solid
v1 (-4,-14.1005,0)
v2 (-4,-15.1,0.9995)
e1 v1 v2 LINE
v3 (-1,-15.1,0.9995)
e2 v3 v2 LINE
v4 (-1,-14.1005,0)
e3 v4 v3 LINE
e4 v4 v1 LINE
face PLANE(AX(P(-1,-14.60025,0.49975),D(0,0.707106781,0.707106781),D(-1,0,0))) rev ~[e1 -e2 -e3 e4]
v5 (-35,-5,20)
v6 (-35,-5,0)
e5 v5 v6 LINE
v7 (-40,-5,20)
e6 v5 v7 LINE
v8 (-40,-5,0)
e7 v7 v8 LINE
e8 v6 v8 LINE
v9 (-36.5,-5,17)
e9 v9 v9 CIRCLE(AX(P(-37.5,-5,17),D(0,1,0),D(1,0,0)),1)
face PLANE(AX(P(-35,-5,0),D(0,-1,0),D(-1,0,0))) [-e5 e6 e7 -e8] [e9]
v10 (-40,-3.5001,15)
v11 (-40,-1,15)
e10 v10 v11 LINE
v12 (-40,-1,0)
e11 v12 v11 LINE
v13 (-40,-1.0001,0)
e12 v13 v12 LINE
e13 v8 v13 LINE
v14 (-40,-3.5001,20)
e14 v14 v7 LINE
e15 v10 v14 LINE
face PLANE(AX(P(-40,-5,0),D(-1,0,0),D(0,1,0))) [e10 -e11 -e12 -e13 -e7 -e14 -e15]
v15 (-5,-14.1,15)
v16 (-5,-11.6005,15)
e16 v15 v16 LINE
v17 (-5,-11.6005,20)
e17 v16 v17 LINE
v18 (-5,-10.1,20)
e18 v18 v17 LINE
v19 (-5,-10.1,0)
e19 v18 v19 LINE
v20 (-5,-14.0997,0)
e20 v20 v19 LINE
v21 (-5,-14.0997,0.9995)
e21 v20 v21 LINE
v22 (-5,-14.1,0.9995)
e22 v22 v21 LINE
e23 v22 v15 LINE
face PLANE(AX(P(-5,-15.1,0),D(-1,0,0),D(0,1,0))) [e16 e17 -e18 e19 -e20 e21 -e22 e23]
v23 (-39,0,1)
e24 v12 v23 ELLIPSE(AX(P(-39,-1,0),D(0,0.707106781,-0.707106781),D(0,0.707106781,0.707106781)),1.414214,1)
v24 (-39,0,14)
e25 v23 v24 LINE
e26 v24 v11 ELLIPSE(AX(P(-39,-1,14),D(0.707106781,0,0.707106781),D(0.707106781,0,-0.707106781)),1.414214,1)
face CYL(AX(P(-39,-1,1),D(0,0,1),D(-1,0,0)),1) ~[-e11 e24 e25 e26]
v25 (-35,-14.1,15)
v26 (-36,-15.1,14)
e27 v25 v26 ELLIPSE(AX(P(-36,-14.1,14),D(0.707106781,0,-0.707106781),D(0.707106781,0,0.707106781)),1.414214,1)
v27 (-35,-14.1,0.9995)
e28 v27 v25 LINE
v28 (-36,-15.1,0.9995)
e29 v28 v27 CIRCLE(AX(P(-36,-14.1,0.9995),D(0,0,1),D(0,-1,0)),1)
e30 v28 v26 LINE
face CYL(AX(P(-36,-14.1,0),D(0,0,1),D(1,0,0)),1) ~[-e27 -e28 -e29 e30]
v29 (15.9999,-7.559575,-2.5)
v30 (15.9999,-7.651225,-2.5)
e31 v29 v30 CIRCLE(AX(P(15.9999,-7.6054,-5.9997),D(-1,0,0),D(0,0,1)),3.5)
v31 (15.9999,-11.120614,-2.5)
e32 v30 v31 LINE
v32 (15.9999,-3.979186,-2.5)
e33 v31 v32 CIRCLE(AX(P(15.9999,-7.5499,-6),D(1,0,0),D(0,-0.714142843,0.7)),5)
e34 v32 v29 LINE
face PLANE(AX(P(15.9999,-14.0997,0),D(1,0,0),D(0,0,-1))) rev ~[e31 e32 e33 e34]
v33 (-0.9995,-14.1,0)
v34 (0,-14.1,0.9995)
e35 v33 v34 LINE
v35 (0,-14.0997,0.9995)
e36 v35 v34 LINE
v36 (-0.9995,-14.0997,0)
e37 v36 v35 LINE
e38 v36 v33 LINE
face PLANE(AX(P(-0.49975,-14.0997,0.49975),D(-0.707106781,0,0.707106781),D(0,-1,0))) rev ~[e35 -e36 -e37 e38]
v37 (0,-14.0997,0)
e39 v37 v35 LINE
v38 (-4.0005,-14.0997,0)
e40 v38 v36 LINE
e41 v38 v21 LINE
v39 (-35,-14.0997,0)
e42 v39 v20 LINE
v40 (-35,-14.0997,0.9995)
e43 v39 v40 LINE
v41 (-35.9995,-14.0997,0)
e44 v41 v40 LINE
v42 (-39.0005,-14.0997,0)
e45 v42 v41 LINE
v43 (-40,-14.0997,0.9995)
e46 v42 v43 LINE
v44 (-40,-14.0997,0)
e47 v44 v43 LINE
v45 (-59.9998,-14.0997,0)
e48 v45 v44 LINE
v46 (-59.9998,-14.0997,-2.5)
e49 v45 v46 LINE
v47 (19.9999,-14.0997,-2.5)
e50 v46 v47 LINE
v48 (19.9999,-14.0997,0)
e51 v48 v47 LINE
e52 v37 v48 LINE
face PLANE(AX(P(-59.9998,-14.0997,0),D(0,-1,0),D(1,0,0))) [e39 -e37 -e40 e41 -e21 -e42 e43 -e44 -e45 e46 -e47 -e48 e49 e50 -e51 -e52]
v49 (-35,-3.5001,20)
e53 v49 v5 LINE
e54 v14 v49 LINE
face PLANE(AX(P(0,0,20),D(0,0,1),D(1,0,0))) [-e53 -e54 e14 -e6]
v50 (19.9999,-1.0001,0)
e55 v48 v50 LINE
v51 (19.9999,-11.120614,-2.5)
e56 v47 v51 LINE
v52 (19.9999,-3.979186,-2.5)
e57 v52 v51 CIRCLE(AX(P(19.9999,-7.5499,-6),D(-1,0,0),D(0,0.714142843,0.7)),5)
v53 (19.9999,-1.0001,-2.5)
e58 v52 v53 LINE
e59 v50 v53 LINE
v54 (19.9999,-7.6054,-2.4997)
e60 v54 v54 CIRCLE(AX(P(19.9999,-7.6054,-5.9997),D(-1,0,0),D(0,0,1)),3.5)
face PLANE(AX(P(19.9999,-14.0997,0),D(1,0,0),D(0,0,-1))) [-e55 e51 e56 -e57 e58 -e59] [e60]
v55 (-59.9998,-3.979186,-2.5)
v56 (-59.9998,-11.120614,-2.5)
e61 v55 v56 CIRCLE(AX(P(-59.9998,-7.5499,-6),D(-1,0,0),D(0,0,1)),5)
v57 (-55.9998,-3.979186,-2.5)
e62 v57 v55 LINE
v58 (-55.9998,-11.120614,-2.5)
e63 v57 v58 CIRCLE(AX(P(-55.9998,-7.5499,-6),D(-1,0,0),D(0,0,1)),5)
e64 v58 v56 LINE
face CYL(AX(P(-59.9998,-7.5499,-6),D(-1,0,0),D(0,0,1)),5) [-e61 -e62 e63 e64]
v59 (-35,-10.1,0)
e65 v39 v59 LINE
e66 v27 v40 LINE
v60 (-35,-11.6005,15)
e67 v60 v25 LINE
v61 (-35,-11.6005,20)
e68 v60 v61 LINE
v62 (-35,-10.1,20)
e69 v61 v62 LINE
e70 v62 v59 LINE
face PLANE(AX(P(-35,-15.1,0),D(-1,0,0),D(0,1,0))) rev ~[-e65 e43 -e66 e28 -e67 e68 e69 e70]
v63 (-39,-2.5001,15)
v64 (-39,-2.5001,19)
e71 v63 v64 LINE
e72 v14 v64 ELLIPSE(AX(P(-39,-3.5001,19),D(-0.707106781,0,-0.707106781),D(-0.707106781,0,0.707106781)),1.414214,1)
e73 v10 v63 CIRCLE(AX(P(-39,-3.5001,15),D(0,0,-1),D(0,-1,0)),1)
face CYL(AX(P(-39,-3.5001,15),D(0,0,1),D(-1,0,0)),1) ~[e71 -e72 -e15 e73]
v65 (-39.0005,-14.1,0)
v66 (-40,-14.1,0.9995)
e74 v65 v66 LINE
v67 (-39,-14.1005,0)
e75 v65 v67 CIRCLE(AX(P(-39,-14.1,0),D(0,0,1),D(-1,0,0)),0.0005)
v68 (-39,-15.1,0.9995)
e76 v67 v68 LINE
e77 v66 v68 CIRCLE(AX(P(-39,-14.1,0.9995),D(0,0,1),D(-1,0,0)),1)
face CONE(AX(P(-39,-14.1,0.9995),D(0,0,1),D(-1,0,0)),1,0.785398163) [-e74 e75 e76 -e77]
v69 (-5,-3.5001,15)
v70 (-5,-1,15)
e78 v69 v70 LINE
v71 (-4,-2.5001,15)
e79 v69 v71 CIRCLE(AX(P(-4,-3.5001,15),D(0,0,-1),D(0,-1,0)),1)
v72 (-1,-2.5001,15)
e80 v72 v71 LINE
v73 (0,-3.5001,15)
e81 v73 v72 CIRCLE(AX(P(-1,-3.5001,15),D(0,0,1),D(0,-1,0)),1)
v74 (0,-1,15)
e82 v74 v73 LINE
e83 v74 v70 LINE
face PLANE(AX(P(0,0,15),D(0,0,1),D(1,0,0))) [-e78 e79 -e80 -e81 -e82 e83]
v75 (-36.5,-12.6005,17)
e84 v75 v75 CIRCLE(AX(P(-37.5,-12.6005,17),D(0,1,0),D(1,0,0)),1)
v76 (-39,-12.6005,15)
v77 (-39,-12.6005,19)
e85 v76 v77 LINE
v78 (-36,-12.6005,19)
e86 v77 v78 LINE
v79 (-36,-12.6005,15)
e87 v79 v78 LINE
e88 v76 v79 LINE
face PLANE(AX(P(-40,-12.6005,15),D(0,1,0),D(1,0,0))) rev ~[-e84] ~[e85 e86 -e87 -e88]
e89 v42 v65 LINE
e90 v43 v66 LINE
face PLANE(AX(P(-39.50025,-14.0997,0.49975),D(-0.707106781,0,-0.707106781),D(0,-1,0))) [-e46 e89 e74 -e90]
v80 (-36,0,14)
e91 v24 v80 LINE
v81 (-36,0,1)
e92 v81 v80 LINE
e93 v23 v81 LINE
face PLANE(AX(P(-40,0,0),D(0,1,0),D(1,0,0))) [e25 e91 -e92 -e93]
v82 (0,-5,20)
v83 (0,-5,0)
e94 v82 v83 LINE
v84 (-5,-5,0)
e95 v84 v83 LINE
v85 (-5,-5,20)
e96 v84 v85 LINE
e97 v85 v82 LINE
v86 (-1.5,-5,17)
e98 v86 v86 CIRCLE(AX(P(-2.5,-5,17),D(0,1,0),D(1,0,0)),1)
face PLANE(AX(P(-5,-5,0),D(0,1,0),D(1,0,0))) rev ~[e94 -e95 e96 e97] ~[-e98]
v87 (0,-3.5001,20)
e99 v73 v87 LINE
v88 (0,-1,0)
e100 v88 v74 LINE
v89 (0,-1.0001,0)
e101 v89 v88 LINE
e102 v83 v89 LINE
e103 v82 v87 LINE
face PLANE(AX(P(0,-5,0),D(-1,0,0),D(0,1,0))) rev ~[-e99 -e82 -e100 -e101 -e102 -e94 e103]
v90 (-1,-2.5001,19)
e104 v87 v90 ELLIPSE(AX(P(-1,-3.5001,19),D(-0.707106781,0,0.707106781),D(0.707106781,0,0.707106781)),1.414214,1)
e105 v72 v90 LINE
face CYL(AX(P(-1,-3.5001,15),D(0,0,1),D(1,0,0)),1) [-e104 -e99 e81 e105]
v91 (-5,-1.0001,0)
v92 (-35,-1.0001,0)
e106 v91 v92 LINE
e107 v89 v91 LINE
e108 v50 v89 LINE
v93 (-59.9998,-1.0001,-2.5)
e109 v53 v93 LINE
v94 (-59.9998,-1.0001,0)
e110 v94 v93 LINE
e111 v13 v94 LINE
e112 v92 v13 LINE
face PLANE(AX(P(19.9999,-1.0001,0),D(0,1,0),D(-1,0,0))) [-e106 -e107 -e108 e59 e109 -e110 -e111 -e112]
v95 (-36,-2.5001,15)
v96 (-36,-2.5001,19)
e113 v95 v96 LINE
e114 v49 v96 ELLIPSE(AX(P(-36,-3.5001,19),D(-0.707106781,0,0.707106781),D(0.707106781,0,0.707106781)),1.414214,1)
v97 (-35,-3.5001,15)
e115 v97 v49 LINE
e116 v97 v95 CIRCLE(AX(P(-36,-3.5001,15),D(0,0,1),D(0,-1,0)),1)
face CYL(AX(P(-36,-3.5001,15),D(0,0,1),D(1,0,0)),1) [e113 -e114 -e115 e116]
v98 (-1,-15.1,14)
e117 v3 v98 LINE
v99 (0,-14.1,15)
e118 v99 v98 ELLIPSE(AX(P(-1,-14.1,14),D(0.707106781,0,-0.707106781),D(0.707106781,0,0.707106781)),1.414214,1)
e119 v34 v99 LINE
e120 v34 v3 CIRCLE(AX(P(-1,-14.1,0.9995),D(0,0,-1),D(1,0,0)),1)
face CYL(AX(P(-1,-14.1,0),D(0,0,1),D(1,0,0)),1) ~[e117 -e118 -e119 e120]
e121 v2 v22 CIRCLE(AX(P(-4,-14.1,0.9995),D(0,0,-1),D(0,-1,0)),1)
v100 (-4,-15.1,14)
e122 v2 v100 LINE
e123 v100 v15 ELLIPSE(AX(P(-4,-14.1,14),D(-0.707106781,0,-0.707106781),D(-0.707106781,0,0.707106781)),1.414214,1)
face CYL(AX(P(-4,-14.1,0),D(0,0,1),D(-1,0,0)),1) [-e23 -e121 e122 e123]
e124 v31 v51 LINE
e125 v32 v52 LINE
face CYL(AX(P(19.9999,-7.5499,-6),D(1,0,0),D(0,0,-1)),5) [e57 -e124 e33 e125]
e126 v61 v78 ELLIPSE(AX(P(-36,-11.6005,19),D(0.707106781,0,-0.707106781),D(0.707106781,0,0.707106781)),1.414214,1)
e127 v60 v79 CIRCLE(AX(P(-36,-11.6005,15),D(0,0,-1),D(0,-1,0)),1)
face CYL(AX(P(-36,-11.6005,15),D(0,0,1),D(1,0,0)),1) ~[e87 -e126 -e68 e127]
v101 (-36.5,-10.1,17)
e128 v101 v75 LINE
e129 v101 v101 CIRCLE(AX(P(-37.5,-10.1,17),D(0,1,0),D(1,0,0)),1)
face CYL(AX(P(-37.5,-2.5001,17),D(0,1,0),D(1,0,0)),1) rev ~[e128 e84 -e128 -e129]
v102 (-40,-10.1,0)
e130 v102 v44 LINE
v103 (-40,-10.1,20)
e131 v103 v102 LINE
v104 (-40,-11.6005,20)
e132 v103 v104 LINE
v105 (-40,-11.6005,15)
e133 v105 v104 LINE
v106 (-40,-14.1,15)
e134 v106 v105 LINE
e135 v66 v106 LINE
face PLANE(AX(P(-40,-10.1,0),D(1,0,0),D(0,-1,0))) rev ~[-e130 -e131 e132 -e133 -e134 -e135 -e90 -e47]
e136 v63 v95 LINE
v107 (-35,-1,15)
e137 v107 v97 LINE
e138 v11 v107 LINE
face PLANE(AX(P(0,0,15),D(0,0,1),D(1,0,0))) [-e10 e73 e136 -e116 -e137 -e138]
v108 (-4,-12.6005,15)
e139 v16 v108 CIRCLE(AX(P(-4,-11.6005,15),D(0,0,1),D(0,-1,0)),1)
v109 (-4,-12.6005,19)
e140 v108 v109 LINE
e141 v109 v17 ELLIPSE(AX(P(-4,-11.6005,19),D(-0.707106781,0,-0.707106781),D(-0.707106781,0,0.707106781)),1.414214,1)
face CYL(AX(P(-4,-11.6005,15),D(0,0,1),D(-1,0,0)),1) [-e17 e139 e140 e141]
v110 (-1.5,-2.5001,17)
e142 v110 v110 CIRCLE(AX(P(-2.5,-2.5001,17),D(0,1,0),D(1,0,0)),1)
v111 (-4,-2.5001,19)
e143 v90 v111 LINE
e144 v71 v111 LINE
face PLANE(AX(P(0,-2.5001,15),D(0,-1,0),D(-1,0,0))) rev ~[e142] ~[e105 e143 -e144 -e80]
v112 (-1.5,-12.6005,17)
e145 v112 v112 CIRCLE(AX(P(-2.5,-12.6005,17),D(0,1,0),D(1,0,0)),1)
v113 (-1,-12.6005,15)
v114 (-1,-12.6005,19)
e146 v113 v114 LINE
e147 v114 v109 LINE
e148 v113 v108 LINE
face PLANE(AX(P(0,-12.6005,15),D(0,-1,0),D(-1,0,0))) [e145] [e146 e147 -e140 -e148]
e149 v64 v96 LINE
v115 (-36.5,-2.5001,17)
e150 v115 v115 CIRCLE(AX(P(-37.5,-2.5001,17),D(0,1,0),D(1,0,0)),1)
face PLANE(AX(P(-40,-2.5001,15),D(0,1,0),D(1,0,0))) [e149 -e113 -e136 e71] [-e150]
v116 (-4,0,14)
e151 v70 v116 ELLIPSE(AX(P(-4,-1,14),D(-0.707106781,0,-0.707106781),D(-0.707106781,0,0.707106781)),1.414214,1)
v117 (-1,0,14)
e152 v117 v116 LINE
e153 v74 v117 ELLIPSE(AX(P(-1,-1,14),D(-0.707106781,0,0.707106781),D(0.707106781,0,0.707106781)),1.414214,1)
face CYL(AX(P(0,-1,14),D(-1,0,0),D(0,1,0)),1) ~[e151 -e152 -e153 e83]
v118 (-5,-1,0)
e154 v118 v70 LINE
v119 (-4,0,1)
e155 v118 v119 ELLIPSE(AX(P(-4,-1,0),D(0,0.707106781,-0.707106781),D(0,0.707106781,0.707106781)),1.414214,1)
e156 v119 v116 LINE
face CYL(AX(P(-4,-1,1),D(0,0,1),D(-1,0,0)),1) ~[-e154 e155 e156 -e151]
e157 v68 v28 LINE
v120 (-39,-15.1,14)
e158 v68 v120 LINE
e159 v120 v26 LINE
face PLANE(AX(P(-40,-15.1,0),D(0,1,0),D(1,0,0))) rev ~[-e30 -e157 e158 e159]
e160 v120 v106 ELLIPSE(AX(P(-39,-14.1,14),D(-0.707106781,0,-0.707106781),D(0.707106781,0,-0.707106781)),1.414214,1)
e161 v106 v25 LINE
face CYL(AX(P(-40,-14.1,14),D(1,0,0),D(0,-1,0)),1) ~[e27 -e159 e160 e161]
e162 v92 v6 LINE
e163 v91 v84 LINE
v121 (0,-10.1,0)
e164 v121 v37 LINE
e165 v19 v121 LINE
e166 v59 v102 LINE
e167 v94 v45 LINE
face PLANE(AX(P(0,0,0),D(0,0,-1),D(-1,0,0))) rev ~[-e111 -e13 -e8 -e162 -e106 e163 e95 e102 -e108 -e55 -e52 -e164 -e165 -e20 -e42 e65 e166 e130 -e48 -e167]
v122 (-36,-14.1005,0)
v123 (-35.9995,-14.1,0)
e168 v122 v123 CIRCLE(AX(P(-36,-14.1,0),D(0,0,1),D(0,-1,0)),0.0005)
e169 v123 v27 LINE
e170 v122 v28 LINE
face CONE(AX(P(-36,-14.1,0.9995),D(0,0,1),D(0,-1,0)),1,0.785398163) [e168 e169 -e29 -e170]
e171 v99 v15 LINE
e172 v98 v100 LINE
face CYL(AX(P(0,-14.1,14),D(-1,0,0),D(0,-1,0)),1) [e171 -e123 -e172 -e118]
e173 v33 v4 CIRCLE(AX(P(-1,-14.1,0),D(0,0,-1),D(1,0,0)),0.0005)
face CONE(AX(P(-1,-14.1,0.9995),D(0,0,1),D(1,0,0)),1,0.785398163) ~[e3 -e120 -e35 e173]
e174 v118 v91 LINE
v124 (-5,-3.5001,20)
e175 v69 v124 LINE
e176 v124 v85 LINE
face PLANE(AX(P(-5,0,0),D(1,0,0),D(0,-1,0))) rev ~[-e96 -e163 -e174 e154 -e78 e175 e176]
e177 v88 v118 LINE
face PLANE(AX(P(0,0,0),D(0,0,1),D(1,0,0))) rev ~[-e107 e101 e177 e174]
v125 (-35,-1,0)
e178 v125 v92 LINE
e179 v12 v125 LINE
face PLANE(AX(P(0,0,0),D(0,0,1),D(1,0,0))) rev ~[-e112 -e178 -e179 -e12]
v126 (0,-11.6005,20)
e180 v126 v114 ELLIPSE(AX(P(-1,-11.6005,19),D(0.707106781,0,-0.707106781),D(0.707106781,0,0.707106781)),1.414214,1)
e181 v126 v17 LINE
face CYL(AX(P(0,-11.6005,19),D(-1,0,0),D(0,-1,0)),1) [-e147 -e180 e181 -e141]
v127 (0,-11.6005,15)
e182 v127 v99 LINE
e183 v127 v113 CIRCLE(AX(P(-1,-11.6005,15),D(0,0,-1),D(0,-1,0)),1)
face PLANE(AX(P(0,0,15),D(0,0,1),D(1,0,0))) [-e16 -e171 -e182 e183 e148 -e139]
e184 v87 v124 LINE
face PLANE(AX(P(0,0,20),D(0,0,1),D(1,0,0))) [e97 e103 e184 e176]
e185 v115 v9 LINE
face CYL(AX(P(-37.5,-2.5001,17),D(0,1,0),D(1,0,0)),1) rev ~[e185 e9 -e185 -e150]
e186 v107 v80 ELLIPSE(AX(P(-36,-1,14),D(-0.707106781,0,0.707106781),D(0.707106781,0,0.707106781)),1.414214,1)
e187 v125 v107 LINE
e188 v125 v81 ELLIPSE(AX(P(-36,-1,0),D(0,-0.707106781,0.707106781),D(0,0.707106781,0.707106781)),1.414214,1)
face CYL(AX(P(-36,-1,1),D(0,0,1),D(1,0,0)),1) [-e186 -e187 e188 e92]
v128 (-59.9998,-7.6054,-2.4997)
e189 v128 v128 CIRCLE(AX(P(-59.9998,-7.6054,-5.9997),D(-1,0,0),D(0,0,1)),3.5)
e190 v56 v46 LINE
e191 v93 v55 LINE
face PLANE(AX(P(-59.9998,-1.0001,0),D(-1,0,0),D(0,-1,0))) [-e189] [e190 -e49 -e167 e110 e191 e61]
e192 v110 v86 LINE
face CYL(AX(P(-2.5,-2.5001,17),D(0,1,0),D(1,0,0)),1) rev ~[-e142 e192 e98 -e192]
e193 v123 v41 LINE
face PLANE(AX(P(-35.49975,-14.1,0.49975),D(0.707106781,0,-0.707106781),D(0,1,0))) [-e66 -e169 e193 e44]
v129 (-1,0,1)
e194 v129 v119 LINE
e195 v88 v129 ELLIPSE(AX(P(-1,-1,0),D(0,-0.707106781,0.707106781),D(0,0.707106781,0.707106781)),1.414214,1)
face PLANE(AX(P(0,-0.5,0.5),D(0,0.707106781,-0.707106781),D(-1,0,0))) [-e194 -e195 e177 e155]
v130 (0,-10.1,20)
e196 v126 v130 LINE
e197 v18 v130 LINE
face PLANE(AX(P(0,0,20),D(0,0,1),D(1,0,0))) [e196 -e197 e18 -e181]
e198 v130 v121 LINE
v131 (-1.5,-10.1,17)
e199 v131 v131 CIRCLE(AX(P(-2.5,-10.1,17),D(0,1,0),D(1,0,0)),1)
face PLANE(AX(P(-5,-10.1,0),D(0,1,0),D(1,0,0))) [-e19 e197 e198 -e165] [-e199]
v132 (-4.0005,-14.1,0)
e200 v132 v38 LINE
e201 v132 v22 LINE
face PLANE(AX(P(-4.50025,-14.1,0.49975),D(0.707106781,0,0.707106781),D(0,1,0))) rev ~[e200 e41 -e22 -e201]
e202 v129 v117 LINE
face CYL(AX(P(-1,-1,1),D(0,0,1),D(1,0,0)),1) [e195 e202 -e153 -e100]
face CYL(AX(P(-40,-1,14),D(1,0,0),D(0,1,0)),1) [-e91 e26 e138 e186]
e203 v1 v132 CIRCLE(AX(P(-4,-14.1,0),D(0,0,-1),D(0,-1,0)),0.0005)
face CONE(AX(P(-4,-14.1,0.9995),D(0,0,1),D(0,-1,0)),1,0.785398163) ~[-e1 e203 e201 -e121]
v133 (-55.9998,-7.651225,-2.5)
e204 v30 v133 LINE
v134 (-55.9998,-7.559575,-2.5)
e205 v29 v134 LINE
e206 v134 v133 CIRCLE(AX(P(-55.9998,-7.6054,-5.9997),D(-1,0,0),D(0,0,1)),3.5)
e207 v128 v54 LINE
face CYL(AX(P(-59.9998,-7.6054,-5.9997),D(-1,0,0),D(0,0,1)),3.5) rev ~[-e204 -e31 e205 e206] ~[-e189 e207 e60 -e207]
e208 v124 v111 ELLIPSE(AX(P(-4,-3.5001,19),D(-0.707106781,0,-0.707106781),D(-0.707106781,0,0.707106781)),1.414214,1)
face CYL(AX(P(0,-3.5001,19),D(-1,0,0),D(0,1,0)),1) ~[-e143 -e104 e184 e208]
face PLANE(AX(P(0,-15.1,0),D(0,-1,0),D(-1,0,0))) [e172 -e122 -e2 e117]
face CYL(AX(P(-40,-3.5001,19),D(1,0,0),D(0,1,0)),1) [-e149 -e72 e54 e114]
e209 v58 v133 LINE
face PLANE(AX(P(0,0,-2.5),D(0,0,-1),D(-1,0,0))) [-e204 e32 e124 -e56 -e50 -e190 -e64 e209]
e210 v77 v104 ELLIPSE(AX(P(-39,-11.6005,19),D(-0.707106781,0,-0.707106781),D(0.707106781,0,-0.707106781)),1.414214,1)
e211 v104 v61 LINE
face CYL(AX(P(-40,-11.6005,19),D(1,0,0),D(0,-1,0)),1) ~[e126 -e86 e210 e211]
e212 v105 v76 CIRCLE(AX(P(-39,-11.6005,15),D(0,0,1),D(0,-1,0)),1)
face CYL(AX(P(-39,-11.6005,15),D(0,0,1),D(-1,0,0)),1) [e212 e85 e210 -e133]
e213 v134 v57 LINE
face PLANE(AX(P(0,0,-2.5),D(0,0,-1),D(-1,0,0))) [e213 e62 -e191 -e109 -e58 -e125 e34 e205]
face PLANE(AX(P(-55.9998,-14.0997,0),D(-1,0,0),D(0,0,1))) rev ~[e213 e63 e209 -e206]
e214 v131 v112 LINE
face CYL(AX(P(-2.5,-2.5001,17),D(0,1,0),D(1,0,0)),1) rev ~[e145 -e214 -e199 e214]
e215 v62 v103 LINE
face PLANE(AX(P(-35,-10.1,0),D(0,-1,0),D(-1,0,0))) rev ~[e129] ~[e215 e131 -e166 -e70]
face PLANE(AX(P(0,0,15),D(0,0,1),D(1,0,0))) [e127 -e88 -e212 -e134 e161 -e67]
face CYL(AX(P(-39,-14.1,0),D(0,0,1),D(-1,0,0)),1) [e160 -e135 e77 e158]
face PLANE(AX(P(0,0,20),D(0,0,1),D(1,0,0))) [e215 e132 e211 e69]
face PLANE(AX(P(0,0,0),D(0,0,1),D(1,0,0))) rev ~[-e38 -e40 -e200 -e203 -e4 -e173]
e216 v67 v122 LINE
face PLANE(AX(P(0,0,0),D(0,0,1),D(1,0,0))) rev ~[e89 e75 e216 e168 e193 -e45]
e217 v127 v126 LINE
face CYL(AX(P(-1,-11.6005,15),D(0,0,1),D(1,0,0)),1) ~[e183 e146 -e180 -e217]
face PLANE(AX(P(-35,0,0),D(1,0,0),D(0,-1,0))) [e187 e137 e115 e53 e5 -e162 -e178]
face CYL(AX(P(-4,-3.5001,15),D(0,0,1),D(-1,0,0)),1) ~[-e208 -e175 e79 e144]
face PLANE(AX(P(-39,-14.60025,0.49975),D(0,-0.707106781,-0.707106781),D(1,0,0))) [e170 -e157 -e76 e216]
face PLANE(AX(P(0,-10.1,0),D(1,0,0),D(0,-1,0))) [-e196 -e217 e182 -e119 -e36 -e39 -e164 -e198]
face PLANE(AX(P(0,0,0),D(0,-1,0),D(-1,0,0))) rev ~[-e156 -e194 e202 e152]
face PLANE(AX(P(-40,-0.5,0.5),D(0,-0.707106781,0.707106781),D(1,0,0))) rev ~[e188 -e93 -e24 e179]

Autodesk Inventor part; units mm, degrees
ref_plane "YZ Plane" through (0, 0, 0) normal (1, 0, 0) x (0, 1, 0)
ref_plane "XZ Plane" through (0, 0, 0) normal (0, 1, 0) x (-1, 0, 0)
ref_plane "XY Plane" through (0, 0, 0) normal (0, 0, 1) x (1, 0, 0)
sketch "Sketch1" plane through (0, 0, 0) normal (0, 0, 1) x (1, 0, 0)
  line L0 (0, 0) -> (-5, 0)
  line L1 (-5, 0) -> (-5, -5)
  line L2 (-5, -5) -> (0, -5)
  line L3 (0, -5) -> (0, 0)
  line L4 (-40, 0) -> (-35, 0)
  line L5 (-35, 0) -> (-35, -5)
  line L6 (-35, -5) -> (-40, -5)
  line L7 (-40, -5) -> (-40, 0)
  line L8 (0, -15.1) -> (-5, -15.1)
  line L9 (-5, -15.1) -> (-5, -10.1)
  line L10 (-5, -10.1) -> (0, -10.1)
  line L11 (0, -10.1) -> (0, -15.1)
  line L12 (-40, -15.1) -> (-35, -15.1)
  line L13 (-35, -15.1) -> (-35, -10.1)
  line L14 (-35, -10.1) -> (-40, -10.1)
  line L15 (-40, -10.1) -> (-40, -15.1)
  line L16 (0, 0) -> (-5, 0)
  line L17 (-35, 0) -> (-40, 0)
  line L18 (0, -15.1) -> (0, -10.1)
  line L19 (0, -5) -> (0, 0)
  line L20 (-40, -15.1) -> (-35, -15.1)
  line L21 (-5, -15.1) -> (0, -15.1)
  line L22 (-40, 0) -> (-40, -5)
  line L23 (-40, -10.1) -> (-40, -15.1)
  dimension "d0" = 40
  dimension "d1" = 15.1
  dimension "d2" = 5
  dimension "d3" = 5
  dimension "d4" = 5
  dimension "d5" = 5
  dimension "d6" = 5
  dimension "d7" = 5
  dimension "d8" = 5
  dimension "d9" = 5
extrude "Mounting arms" add sketch "Sketch1" along normal blind 15
sketch "Sketch2" plane through (0, 0, 0) normal (0, 0, -1) x (-1, 0, 0)
  line L0 (-19.9999, -1.0001) -> (59.9998, -1.0001)
  line L1 (59.9998, -1.0001) -> (59.9998, -14.0997)
  line L2 (59.9998, -14.0997) -> (-19.9999, -14.0997)
  line L3 (-19.9999, -14.0997) -> (-19.9999, -1.0001)
  point P0 (0, 0)
extrude "Plate" add sketch "Sketch2" along normal blind 2.5
sketch "Sketch3" plane through (19.9999, -14.0997, 0) normal (1, 0, 0) x (0, 0, -1)
  circle A0 centre (6, 6.5498) radius 5
  point P0 (0, 14.0997)
  dimension "d14" = 10
sketch "Sketch5" plane through (-59.9998, -14.0997, 0) normal (-1, 0, 0) x (0, 0, 1)
  circle A0 centre (-6, 6.5498) radius 5
  point P0 (0, 14.0997)
  dimension "d15" = 10
extrude "retainer1" add sketch "Sketch5" against normal blind 4
extrude "retainer2" add sketch "Sketch3" against normal blind 4
sketch "Sketch6" plane through (-59.9998, -14.0997, 0) normal (-1, 0, 0) x (0, 0, 1)
  line L0 (0, 13.0996) -> (0, 0) projected
  circle A0 centre (-5.9997, 6.4943) radius 3.5
  point P0 (0, 14.0997)
  dimension "d21" = 7
extrude "cyldiner shaft holes" cut sketch "Sketch6" against normal blind 80
chamfer "Chamfer1" distance 1 angle 45 2 edges at (-37.5, 0, 0) (-2.5, 0, 0)
sketch "Sketch7" plane through (0, 0, 15) normal (0, 0, 1) x (1, 0, 0)
  line L0 (-40, -1.0001) -> (-40, -5) projected
  line L1 (0, -14.0997) -> (0, -10.1) projected
  line L2 (-35, -14.0997) -> (-35, -10.1) projected
  line L3 (-40, -12.6005) -> (-35, -12.6005)
  line L4 (-35, -12.6005) -> (-35, -10.1)
  line L5 (-35, -10.1) -> (-40, -10.1)
  line L6 (-40, -10.1) -> (-40, -12.6005)
  line L7 (-5, -10.1) -> (-5, -15.1) projected
  line L8 (0, -12.6005) -> (-5, -12.6005)
  line L9 (-5, -12.6005) -> (-5, -10.1)
  line L10 (-5, -10.1) -> (0, -10.1)
  line L11 (0, -10.1) -> (0, -12.6005)
  line L12 (-5, -5) -> (0, -5) projected
  line L13 (0, -2.5001) -> (-5, -2.5001)
  line L14 (-5, -2.5001) -> (-5, -5)
  line L15 (-5, -5) -> (0, -5)
  line L16 (0, -5) -> (0, -2.5001)
  line L17 (-40, -2.5001) -> (-35, -2.5001)
  line L18 (-35, -2.5001) -> (-35, -5)
  line L19 (-35, -5) -> (-40, -5)
  line L20 (-40, -5) -> (-40, -2.5001)
  line L21 (-40, -2.5001) -> (-35, -2.5001)
  line L22 (-5, -2.5001) -> (0, -2.5001)
  line L23 (-40, -12.6005) -> (-40, -10.1)
  line L24 (-40, -5) -> (-40, -2.5001)
  line L25 (0, -12.6005) -> (-5, -12.6005)
  line L26 (-35, -12.6005) -> (-40, -12.6005)
  line L27 (0, -2.5001) -> (0, -5)
  line L28 (0, -10.1) -> (0, -12.6005)
  point P0 (0, 0)
extrude "Extrusion6" add sketch "Sketch7" along normal blind 5
fillet "Fillet1" radius 1 24 edges at (-35, -2.5001, 17.5) (-40, -2.5001, 17.5) (-37.5, -2.5001, 20) (-5, -2.5001, 17.5) (0, -2.5001, 17.5) (-2.5, -2.5001, 20) (0, -12.6005, 17.5) (-2.5, -12.6005, 20) (-5, -12.6005, 17.5) (-35, -12.6005, 17.5) (-37.5, -12.6005, 20) (-40, -12.6005, 17.5) (0, 0, 8) (-5, 0, 8) (-2.5, 0, 15) (-35, 0, 8) (-37.5, 0, 15) (-40, 0, 8) (0, -15.1, 7.5) (-2.5, -15.1, 15) (-5, -15.1, 7.5) (-35, -15.1, 7.5) (-37.5, -15.1, 15) (-40, -15.1, 7.5)
chamfer "Chamfer2" distance 1 angle 45 10 edges at (-37.5, -15.1, 0) (-35.2929, -14.8071, 0) (-35, -14.0999, 0) (-39.7071, -14.8071, 0) (-40, -14.0999, 0) (-2.5, -15.1, 0) (-0.2929, -14.8071, 0) (0, -14.0999, 0) (-4.7071, -14.8071, 0) (-5, -14.0999, 0)
sketch "Sketch8" plane through (-4, -2.5001, 15) normal (0, 1, 0) x (1, 0, 0)
  circle A0 centre (1.5, -2) radius 1
  circle A1 centre (-33.5, -2) radius 1
  point P0 (4, 15)
  dimension "d33" = 2
  dimension "d34" = 2
extrude "Extrusion7" cut sketch "Sketch8" against normal blind 10.2
properties part number "sccop_mount"
